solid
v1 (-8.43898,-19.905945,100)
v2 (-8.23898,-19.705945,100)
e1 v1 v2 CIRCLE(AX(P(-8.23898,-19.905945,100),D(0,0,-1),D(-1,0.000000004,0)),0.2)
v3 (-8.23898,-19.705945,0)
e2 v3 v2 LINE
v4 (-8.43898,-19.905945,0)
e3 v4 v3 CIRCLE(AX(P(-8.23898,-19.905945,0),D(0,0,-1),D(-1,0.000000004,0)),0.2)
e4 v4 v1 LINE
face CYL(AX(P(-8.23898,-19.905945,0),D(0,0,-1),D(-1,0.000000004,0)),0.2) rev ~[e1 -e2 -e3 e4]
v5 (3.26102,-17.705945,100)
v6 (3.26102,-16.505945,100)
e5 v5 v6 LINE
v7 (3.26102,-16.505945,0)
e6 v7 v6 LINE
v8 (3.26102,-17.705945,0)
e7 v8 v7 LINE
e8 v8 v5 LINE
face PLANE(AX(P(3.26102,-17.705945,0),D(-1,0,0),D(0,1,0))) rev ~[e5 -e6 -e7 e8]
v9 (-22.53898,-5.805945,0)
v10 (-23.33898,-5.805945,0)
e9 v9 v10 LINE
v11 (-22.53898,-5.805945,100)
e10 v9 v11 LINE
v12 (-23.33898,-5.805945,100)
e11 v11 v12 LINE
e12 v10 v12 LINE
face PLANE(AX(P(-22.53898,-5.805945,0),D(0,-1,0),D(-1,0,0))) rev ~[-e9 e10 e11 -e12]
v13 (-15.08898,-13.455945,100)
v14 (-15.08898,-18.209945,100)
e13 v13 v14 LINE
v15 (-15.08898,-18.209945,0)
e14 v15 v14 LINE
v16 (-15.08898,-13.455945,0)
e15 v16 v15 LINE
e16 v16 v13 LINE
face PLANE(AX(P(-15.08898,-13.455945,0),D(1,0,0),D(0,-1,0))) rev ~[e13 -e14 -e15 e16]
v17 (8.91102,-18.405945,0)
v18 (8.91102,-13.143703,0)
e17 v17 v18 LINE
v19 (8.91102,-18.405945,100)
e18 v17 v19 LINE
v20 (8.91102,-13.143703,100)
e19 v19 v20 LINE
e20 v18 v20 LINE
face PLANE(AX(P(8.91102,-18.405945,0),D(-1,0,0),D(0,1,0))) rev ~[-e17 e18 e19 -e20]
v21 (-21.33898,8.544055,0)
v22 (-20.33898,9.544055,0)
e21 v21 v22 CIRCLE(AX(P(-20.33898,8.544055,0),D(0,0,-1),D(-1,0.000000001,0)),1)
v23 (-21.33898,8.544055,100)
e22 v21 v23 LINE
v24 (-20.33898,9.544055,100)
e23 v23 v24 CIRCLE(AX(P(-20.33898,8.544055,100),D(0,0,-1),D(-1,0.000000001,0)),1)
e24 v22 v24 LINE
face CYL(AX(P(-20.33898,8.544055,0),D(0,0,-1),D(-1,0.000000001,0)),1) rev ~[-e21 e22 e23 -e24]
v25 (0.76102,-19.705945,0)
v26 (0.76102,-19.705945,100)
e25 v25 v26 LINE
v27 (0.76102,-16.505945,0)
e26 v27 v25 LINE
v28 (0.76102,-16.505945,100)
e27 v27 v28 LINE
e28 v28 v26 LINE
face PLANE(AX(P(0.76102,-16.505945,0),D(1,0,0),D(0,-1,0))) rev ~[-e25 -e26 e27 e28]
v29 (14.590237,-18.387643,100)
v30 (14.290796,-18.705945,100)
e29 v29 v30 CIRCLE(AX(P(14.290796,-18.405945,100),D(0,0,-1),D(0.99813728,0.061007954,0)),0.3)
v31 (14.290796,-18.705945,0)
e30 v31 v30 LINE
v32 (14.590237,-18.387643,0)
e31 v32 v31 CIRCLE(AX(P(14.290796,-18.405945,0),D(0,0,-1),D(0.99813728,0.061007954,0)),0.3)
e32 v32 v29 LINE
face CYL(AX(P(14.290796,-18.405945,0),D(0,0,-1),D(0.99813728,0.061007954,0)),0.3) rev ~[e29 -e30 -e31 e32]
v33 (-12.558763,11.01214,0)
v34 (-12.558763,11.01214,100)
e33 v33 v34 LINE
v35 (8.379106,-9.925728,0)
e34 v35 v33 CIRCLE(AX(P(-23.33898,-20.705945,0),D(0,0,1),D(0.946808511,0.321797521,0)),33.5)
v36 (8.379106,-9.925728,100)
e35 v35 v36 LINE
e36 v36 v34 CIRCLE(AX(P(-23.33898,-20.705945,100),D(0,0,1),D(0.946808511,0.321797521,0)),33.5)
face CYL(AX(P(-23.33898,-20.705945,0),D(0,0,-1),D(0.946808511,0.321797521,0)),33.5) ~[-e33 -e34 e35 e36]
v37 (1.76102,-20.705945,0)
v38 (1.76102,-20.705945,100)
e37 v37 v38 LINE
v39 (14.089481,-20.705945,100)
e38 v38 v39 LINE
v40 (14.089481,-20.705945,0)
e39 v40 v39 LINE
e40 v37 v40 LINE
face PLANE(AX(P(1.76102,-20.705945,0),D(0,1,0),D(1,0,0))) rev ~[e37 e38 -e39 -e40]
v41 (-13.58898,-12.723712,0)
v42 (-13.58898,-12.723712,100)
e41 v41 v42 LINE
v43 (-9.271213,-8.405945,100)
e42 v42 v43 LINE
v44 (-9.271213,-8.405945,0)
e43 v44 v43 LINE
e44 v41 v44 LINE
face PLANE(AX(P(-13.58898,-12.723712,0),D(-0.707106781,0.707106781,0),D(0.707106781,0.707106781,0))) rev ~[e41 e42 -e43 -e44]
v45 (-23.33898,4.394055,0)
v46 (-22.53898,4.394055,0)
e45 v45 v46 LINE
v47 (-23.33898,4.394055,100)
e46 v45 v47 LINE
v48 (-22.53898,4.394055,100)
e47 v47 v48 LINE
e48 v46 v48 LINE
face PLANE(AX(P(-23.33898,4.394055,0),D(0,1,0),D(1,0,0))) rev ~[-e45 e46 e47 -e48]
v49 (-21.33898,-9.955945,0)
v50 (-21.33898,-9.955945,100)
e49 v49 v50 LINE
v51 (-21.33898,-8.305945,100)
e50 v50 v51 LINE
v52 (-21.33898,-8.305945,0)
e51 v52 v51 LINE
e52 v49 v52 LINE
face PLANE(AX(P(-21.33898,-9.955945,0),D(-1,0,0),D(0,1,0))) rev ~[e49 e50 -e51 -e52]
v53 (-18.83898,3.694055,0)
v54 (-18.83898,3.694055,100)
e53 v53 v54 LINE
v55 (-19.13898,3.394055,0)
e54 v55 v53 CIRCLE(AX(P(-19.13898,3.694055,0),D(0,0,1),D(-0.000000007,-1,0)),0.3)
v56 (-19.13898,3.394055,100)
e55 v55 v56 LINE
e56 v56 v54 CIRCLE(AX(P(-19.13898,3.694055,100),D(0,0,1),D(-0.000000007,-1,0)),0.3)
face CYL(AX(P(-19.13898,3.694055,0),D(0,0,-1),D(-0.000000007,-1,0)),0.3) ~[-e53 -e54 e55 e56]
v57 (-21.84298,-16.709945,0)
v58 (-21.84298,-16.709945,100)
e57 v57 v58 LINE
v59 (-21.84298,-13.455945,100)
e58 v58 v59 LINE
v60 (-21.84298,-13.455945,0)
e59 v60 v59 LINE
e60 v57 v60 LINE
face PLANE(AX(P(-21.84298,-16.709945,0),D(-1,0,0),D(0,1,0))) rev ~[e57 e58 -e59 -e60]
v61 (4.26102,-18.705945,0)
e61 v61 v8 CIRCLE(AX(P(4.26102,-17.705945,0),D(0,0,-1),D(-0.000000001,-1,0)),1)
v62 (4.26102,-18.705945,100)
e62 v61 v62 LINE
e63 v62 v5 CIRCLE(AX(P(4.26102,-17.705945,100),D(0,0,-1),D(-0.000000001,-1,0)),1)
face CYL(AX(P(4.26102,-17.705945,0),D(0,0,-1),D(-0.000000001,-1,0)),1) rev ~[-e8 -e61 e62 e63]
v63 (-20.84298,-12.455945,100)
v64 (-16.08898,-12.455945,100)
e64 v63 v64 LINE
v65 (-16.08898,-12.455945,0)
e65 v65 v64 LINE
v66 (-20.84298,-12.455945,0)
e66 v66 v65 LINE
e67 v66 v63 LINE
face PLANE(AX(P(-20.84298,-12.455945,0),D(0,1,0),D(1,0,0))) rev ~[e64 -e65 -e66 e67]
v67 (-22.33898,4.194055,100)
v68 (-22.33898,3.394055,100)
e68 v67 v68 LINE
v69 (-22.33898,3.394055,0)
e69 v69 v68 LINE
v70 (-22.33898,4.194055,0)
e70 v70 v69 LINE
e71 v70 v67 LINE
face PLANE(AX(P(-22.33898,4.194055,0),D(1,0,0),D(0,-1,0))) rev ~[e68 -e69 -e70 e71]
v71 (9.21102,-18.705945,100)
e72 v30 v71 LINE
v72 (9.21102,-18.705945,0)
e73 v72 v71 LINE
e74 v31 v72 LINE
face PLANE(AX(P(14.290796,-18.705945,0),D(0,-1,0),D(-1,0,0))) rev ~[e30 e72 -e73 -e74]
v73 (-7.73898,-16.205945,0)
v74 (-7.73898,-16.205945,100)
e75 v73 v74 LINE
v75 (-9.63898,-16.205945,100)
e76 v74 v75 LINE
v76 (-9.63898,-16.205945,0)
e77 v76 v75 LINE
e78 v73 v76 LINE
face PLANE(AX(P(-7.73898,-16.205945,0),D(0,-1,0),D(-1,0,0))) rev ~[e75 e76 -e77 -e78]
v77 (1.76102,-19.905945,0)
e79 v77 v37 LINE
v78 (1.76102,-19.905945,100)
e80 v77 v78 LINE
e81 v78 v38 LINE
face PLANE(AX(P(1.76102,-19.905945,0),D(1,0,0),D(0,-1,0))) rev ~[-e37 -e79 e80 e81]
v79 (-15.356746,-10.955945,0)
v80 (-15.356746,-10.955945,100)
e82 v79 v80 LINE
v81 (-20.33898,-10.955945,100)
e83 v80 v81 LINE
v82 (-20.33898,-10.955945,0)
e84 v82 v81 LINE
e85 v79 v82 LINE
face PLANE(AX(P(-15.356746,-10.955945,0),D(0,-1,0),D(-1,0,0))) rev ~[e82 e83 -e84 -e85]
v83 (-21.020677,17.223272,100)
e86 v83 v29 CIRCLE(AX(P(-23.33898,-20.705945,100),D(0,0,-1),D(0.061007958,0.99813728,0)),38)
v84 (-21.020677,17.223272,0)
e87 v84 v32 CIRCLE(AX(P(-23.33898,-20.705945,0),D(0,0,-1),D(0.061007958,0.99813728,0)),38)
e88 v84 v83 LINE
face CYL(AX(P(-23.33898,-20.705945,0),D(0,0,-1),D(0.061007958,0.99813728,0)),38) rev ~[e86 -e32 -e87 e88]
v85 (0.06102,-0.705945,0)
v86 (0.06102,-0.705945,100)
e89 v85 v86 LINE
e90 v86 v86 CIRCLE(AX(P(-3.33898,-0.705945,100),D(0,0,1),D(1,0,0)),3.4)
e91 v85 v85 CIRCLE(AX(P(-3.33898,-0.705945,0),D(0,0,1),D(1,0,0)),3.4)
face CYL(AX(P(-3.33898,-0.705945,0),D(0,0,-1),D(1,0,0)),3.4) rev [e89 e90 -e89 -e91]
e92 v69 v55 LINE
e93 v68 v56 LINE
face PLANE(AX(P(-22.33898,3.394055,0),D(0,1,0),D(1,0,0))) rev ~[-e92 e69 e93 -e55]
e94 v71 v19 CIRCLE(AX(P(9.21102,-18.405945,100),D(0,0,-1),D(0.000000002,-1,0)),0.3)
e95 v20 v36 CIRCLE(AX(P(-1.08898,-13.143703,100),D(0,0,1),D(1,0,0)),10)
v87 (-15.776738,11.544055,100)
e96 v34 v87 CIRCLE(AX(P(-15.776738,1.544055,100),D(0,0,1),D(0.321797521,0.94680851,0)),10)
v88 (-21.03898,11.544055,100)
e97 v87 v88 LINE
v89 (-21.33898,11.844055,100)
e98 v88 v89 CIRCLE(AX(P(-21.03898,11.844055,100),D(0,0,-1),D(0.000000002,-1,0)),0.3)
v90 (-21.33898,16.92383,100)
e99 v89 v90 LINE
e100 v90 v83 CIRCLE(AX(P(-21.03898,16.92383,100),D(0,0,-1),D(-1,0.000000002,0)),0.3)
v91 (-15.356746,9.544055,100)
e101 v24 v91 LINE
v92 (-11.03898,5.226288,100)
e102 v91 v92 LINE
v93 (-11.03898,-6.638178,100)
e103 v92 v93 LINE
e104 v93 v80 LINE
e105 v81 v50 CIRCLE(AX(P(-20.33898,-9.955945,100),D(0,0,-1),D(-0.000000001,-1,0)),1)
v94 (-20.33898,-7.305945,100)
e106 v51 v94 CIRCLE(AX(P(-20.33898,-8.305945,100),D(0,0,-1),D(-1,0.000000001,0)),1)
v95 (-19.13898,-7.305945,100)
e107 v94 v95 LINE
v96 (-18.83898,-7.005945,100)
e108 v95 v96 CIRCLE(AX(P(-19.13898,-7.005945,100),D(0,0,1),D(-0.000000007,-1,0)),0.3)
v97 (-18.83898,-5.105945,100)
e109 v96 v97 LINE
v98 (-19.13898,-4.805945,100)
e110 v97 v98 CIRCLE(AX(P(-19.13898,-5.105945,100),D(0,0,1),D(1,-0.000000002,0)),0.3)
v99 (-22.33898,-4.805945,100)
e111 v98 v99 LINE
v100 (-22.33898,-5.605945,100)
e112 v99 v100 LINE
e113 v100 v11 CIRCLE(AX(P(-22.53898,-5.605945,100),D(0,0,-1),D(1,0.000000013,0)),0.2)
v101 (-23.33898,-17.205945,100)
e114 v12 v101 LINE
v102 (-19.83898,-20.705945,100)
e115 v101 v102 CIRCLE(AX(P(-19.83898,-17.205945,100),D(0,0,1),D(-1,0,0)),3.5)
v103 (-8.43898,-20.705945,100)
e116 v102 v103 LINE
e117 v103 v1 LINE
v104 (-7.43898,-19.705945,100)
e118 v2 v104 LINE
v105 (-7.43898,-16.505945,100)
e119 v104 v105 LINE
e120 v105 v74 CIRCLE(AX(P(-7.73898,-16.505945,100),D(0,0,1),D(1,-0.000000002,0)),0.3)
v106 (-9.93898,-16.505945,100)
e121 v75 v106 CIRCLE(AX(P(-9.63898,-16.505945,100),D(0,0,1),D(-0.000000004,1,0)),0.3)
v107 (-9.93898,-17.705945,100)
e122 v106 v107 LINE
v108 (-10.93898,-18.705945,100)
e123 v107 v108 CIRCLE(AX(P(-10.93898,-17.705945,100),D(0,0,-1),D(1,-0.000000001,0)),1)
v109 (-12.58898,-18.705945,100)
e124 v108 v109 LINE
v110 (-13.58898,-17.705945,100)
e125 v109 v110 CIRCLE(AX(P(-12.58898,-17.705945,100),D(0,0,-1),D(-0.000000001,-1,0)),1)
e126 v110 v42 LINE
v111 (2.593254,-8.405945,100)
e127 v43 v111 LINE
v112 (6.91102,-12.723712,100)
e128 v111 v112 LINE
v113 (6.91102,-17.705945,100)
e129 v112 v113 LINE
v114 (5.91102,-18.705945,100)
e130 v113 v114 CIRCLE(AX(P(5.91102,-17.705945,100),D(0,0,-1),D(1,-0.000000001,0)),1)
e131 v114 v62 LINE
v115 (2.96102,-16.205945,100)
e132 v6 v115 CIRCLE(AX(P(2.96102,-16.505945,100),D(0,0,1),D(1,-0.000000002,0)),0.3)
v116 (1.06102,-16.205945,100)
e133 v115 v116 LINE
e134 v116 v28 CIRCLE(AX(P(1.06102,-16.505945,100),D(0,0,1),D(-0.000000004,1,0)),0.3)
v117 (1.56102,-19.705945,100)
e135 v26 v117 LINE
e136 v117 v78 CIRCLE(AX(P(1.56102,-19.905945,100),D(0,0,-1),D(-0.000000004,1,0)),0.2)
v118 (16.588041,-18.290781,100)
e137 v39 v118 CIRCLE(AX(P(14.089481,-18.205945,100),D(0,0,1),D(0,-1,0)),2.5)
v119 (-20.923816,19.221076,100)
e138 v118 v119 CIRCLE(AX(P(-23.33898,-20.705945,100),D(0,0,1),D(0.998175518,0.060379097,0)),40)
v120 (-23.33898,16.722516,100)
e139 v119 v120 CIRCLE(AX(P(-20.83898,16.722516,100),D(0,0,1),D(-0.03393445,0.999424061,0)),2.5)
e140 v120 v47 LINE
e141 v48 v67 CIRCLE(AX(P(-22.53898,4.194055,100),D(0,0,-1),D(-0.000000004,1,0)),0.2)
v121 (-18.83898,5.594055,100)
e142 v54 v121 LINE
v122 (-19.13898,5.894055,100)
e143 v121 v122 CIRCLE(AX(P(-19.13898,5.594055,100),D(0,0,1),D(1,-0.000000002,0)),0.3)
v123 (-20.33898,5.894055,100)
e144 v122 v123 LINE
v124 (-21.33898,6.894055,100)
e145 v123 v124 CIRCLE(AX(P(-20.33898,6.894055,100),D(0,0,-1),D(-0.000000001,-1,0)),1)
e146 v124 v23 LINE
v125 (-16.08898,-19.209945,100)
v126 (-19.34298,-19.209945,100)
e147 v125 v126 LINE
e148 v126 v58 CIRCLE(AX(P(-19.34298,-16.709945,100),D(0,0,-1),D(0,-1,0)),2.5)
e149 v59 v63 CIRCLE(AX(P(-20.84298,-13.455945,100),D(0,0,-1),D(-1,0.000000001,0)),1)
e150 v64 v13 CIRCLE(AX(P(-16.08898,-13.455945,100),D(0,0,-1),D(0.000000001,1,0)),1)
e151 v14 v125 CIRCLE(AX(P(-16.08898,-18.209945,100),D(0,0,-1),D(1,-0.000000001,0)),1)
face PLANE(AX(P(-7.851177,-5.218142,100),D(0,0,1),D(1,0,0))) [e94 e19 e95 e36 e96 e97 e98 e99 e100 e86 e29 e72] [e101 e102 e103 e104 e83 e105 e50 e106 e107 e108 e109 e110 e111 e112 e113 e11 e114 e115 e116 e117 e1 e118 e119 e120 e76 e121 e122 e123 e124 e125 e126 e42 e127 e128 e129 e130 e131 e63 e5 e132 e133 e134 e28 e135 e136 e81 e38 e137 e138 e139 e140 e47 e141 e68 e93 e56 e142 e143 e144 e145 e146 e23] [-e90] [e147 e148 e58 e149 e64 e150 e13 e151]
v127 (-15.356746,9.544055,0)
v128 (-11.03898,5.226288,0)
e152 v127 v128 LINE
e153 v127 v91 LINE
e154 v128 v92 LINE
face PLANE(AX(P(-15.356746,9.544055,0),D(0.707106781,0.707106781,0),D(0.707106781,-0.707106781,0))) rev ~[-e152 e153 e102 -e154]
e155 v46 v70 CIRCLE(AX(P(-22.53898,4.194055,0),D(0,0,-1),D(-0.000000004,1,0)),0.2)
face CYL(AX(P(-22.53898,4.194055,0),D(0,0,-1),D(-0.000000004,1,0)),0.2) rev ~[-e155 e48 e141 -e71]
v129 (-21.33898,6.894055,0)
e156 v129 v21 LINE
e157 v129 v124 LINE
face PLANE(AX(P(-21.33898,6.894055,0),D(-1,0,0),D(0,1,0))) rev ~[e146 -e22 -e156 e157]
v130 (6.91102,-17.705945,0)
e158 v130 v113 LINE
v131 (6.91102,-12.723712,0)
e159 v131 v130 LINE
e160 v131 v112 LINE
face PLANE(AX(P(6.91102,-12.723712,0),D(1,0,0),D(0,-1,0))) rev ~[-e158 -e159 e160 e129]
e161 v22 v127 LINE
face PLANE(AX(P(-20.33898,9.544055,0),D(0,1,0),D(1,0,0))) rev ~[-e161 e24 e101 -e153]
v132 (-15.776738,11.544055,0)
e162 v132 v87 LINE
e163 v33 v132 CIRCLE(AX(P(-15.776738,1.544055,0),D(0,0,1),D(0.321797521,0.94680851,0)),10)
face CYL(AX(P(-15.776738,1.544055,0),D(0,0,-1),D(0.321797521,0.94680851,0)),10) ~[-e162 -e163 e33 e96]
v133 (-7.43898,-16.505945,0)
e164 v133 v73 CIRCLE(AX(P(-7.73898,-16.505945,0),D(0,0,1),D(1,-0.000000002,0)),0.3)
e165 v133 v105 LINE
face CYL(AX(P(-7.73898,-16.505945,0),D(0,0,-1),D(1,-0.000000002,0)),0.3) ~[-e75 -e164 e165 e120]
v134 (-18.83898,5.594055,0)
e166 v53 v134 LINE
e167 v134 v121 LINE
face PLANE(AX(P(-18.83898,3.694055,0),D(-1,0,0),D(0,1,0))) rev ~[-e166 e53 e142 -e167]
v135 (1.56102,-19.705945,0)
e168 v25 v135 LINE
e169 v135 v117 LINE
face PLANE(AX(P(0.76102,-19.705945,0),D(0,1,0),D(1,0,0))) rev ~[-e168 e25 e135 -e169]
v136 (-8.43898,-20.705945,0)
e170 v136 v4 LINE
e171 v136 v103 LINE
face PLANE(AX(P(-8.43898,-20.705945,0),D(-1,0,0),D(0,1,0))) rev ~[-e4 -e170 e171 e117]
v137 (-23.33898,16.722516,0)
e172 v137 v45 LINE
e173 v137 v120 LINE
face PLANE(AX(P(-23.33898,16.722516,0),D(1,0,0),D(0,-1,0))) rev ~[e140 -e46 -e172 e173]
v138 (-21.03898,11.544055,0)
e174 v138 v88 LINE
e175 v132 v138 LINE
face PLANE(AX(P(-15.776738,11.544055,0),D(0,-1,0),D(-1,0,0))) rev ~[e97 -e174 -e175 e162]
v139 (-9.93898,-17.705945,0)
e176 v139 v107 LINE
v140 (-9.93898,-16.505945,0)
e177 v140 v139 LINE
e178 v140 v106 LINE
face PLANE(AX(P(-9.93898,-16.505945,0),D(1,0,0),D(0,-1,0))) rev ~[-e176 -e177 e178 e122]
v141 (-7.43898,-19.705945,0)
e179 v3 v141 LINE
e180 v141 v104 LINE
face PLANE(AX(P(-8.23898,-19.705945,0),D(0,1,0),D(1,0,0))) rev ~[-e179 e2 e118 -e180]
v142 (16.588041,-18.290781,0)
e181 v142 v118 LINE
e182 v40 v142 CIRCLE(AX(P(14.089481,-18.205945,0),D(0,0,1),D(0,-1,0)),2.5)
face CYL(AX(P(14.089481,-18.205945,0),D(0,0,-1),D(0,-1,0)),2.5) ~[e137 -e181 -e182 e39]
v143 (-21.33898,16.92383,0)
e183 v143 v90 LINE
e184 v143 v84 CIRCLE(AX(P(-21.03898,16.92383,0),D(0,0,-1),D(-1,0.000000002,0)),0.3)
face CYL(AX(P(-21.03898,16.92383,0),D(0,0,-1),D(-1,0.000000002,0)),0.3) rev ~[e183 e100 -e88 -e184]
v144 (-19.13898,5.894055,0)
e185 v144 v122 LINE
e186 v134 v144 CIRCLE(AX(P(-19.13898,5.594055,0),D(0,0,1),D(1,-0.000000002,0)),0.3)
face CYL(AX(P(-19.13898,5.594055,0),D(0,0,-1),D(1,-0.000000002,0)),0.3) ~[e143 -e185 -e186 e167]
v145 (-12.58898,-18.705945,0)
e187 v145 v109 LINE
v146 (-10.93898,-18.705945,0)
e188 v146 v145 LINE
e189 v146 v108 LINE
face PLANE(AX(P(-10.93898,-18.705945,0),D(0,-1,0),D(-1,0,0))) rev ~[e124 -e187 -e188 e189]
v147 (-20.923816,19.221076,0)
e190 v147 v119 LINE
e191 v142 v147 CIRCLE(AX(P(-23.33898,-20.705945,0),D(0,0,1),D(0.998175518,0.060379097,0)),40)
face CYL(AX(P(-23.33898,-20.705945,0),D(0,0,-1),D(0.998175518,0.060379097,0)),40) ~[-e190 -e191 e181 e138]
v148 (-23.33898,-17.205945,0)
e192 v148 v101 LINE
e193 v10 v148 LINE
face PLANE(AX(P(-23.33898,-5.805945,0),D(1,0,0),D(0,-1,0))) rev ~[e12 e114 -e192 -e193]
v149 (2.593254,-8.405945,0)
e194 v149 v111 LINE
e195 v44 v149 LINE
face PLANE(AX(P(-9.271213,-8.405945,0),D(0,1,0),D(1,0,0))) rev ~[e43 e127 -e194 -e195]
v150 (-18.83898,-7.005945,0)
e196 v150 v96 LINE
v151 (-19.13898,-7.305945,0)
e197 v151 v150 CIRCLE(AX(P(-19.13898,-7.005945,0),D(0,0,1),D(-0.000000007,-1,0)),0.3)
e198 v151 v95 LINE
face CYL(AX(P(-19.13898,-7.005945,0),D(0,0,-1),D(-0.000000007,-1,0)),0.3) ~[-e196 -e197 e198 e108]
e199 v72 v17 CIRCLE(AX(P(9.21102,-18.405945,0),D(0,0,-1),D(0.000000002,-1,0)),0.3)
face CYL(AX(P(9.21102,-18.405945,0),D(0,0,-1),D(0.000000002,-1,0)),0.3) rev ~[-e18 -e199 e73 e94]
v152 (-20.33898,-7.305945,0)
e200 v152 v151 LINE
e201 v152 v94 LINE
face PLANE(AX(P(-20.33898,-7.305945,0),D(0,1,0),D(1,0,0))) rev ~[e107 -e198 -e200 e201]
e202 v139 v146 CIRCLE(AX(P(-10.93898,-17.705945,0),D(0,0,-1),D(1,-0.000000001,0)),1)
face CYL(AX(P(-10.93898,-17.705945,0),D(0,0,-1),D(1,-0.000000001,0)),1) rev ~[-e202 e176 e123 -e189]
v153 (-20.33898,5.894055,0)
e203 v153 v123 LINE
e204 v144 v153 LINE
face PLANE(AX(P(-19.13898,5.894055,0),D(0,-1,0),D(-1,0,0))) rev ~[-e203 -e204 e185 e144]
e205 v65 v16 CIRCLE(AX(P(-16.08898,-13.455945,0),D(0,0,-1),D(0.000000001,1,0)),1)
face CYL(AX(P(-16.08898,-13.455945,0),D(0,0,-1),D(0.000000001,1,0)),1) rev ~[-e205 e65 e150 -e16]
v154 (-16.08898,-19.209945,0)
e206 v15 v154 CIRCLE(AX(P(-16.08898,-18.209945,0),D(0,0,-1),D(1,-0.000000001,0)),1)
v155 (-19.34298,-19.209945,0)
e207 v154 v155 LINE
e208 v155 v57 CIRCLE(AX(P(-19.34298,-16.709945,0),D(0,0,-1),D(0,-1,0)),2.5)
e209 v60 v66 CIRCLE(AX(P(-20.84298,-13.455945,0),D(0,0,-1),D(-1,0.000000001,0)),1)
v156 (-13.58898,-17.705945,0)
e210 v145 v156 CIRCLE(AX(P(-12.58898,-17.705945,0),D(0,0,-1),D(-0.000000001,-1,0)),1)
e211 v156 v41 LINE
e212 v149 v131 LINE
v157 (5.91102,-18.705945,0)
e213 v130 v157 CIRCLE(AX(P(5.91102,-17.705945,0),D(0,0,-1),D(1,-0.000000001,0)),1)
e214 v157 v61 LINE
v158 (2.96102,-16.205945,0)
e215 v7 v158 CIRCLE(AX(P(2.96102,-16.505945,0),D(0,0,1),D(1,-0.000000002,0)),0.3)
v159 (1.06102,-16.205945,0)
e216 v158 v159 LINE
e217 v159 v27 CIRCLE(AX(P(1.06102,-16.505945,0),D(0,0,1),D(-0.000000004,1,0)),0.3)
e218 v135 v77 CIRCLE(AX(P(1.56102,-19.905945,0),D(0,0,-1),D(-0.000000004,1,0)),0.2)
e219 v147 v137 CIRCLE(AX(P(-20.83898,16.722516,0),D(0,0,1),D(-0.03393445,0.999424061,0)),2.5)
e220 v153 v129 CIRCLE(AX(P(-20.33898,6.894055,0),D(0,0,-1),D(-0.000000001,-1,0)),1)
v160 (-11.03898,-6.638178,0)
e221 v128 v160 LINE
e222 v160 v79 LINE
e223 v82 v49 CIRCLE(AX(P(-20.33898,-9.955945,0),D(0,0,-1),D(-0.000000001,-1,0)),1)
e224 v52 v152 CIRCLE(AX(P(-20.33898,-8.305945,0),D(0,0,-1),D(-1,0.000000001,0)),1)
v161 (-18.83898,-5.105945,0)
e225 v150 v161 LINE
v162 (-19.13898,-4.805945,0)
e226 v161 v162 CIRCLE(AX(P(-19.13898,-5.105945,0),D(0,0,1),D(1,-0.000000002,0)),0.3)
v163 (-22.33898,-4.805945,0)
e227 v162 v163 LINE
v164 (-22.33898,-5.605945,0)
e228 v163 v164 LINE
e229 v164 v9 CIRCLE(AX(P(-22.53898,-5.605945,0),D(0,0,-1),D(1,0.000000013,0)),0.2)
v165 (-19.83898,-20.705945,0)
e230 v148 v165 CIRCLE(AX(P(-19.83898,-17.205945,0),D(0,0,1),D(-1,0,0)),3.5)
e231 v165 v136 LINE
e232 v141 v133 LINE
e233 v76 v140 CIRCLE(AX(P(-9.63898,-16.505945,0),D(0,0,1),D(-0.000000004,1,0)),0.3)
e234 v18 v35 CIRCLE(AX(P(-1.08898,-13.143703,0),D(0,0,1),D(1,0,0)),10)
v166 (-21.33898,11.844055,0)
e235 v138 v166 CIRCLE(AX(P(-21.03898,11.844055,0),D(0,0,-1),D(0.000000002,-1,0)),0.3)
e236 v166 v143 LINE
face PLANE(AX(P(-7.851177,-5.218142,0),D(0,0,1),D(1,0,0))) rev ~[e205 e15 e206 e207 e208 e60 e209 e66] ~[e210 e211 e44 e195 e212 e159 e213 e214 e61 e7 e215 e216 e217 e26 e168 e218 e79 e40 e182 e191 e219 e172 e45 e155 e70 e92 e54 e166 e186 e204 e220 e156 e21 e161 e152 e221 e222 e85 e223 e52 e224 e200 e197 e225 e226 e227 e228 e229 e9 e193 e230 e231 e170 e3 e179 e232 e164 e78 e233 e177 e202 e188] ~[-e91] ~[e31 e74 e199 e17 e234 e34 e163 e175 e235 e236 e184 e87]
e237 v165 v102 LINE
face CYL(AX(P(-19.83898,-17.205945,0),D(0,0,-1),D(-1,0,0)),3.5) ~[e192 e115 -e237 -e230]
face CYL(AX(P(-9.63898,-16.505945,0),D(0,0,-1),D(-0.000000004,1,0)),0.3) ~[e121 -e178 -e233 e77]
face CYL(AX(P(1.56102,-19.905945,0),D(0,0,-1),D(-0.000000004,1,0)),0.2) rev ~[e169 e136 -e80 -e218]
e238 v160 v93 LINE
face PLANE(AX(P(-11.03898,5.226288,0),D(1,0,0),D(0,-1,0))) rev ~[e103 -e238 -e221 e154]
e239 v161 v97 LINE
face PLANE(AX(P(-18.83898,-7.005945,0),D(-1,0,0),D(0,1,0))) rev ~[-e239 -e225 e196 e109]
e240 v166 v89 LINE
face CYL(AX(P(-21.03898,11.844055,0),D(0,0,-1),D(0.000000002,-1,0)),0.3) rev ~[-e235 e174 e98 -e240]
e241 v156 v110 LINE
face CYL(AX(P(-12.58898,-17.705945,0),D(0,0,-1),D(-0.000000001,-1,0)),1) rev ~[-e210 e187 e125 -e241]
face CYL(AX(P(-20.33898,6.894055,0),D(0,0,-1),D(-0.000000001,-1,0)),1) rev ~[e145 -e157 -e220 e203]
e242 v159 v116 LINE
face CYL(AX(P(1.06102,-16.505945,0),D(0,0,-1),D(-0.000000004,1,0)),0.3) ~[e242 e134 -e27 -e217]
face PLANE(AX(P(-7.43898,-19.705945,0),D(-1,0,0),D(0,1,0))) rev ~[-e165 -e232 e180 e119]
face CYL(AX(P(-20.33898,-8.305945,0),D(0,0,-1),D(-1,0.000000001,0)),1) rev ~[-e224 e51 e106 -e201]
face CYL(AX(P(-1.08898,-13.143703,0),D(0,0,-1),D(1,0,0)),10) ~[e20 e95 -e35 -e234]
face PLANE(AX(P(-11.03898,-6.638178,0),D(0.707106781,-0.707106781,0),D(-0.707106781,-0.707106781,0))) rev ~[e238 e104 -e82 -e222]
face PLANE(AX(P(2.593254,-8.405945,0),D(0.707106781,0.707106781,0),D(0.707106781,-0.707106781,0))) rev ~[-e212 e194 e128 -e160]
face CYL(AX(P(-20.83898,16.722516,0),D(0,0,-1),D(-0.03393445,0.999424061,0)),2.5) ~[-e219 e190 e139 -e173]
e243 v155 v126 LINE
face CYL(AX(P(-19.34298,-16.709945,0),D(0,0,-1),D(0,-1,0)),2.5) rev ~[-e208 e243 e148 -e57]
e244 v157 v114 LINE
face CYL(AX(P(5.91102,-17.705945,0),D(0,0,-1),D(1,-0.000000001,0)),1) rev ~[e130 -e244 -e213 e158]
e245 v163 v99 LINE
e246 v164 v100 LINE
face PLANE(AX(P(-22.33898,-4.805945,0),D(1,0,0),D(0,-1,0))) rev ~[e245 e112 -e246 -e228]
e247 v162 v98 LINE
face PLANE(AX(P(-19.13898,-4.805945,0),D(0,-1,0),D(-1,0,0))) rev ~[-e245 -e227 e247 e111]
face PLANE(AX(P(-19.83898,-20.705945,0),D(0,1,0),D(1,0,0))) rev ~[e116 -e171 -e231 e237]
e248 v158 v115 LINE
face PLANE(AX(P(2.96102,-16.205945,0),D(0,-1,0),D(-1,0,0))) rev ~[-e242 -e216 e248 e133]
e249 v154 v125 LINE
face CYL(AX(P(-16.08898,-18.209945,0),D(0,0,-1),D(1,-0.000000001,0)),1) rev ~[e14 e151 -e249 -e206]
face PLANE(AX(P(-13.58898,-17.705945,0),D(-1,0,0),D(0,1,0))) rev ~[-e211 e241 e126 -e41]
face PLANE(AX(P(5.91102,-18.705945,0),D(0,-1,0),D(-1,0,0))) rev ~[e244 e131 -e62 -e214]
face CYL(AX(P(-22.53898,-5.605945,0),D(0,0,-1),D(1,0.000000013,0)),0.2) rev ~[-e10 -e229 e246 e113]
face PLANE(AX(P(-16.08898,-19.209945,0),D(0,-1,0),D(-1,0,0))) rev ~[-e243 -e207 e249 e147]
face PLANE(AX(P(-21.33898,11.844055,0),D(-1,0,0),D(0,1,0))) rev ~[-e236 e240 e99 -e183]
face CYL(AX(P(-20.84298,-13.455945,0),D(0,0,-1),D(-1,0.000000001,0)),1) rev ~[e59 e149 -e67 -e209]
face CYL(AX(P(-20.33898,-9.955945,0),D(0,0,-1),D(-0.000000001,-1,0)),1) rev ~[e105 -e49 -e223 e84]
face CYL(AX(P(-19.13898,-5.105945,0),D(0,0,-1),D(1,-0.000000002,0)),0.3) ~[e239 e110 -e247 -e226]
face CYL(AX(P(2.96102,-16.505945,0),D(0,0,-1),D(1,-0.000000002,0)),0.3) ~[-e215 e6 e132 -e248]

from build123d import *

# Parameters (mm, degrees)
SKETCH_1_R      = 3.4
EXTRUDE_1_DEPTH = 100


with BuildPart() as part:
    # 草图1 → 凸台-拉伸1 (new body)
    with BuildSketch(Plane.XY):
        with BuildLine():
            Line((-23.338979522, 16.722515545), (-23.338979522, 4.394054978))
            Line((-23.338979522, 4.394054978), (-22.538979522, 4.394054978))
            ThreePointArc((-22.538979522, 4.394054978), (-22.397558165, 4.335476334), (-22.338979522, 4.194054978))
            Line((-22.338979522, 4.194054978), (-22.338979522, 3.394054978))
            Line((-22.338979522, 3.394054978), (-19.138979522, 3.394054978))
            ThreePointArc((-19.138979522, 3.394054978), (-18.926847487, 3.481922943), (-18.838979522, 3.694054978))
            Line((-18.838979522, 3.694054978), (-18.838979522, 5.594054978))
            ThreePointArc((-18.838979522, 5.594054978), (-18.926847487, 5.806187012), (-19.138979522, 5.894054978))
            Line((-19.138979522, 5.894054978), (-20.338979522, 5.894054978))
            ThreePointArc((-20.338979522, 5.894054978), (-21.046086303, 6.186948197), (-21.338979522, 6.894054978))
            Line((-21.338979522, 6.894054978), (-21.338979522, 8.544054978))
            ThreePointArc((-21.338979522, 8.544054978), (-21.046086303, 9.251161759), (-20.338979522, 9.544054978))
            Line((-20.338979522, 9.544054978), (-15.356746475, 9.544054978))
            Line((-15.356746475, 9.544054978), (-11.038979522, 5.226288025))
            Line((-11.038979522, 5.226288025), (-11.038979522, -6.638178069))
            Line((-11.038979522, -6.638178069), (-15.356746475, -10.955945022))
            Line((-15.356746475, -10.955945022), (-20.338979522, -10.955945022))
            ThreePointArc((-20.338979522, -10.955945022), (-21.046086303, -10.663051803), (-21.338979522, -9.955945022))
            Line((-21.338979522, -9.955945022), (-21.338979522, -8.305945022))
            ThreePointArc((-21.338979522, -8.305945022), (-21.046086303, -7.598838241), (-20.338979522, -7.305945022))
            Line((-20.338979522, -7.305945022), (-19.138979522, -7.305945022))
            ThreePointArc((-19.138979522, -7.305945022), (-18.926847487, -7.218077057), (-18.838979522, -7.005945022))
            Line((-18.838979522, -7.005945022), (-18.838979522, -5.105945022))
            ThreePointArc((-18.838979522, -5.105945022), (-18.926847487, -4.893812988), (-19.138979522, -4.805945022))
            Line((-19.138979522, -4.805945022), (-22.338979522, -4.805945022))
            Line((-22.338979522, -4.805945022), (-22.338979522, -5.605945022))
            ThreePointArc((-22.338979522, -5.605945022), (-22.397558165, -5.747366379), (-22.538979522, -5.805945022))
            Line((-22.538979522, -5.805945022), (-23.338979522, -5.805945022))
            Line((-23.338979522, -5.805945022), (-23.338979522, -17.205945022))
            ThreePointArc((-23.338979522, -17.205945022), (-22.313853256, -19.680818756), (-19.838979522, -20.705945022))
            Line((-19.838979522, -20.705945022), (-8.438979522, -20.705945022))
            Line((-8.438979522, -20.705945022), (-8.438979522, -19.905945022))
            ThreePointArc((-8.438979522, -19.905945022), (-8.380400878, -19.764523666), (-8.238979522, -19.705945022))
            Line((-8.238979522, -19.705945022), (-7.438979522, -19.705945022))
            Line((-7.438979522, -19.705945022), (-7.438979522, -16.505945022))
            ThreePointArc((-7.438979522, -16.505945022), (-7.526847487, -16.293812988), (-7.738979522, -16.205945022))
            Line((-7.738979522, -16.205945022), (-9.638979522, -16.205945022))
            ThreePointArc((-9.638979522, -16.205945022), (-9.851111556, -16.293812988), (-9.938979522, -16.505945022))
            Line((-9.938979522, -16.505945022), (-9.938979522, -17.705945022))
            ThreePointArc((-9.938979522, -17.705945022), (-10.231872741, -18.413051803), (-10.938979522, -18.705945022))
            Line((-10.938979522, -18.705945022), (-12.588979522, -18.705945022))
            ThreePointArc((-12.588979522, -18.705945022), (-13.296086303, -18.413051803), (-13.588979522, -17.705945022))
            Line((-13.588979522, -17.705945022), (-13.588979522, -12.723711975))
            Line((-13.588979522, -12.723711975), (-9.271212569, -8.405945022))
            Line((-9.271212569, -8.405945022), (2.593253525, -8.405945022))
            Line((2.593253525, -8.405945022), (6.911020478, -12.723711975))
            Line((6.911020478, -12.723711975), (6.911020478, -17.705945022))
            ThreePointArc((6.911020478, -17.705945022), (6.618127259, -18.413051803), (5.911020478, -18.705945022))
            Line((5.911020478, -18.705945022), (4.261020478, -18.705945022))
            ThreePointArc((4.261020478, -18.705945022), (3.553913697, -18.413051803), (3.261020478, -17.705945022))
            Line((3.261020478, -17.705945022), (3.261020478, -16.505945022))
            ThreePointArc((3.261020478, -16.505945022), (3.173152513, -16.293812988), (2.961020478, -16.205945022))
            Line((2.961020478, -16.205945022), (1.061020478, -16.205945022))
            ThreePointArc((1.061020478, -16.205945022), (0.848888444, -16.293812988), (0.761020478, -16.505945022))
            Line((0.761020478, -16.505945022), (0.761020478, -19.705945022))
            Line((0.761020478, -19.705945022), (1.561020478, -19.705945022))
            ThreePointArc((1.561020478, -19.705945022), (1.702441835, -19.764523666), (1.761020478, -19.905945022))
            Line((1.761020478, -19.905945022), (1.761020478, -20.705945022))
            Line((1.761020478, -20.705945022), (14.089481045, -20.705945022))
            ThreePointArc((14.089481045, -20.705945022), (15.826995028, -20.003455845), (16.588041197, -18.290781149))
            ThreePointArc((16.588041197, -18.290781149), (4.945291726, 7.578326225), (-20.923815648, 19.221075696))
            ThreePointArc((-20.923815648, 19.221075696), (-22.636490345, 18.460029528), (-23.338979522, 16.722515545))
        make_face()
        with Locations((-3.338979522, -0.705945022)):
            Circle(SKETCH_1_R, mode=Mode.SUBTRACT)
        with BuildLine():
            Line((-15.088979522, -13.455945022), (-15.088979522, -18.209945022))
            ThreePointArc((-15.088979522, -18.209945022), (-15.381872741, -18.917051803), (-16.088979522, -19.209945022))
            Line((-16.088979522, -19.209945022), (-19.342979522, -19.209945022))
            ThreePointArc((-19.342979522, -19.209945022), (-21.110746475, -18.477711975), (-21.842979522, -16.709945022))
            Line((-21.842979522, -16.709945022), (-21.842979522, -13.455945022))
            ThreePointArc((-21.842979522, -13.455945022), (-21.550086303, -12.748838241), (-20.842979522, -12.455945022))
            Line((-20.842979522, -12.455945022), (-16.088979522, -12.455945022))
            ThreePointArc((-16.088979522, -12.455945022), (-15.381872741, -12.748838241), (-15.088979522, -13.455945022))
        make_face(mode=Mode.SUBTRACT)
        with BuildLine():
            Line((-15.776737791, 11.544054978), (-21.038979522, 11.544054978))
            ThreePointArc((-21.038979522, 11.544054978), (-21.251111556, 11.631922943), (-21.338979522, 11.844054978))
            Line((-21.338979522, 11.844054978), (-21.338979522, 16.923830422))
            ThreePointArc((-21.338979522, 16.923830422), (-21.244538861, 17.142337534), (-21.020677134, 17.223271606))
            ThreePointArc((-21.020677134, 17.223271606), (3.531078163, 6.164112663), (14.590237107, -18.387642635))
            ThreePointArc((14.590237107, -18.387642635), (14.509303035, -18.611504361), (14.290795923, -18.705945022))
            Line((14.290795923, -18.705945022), (9.211020478, -18.705945022))
            ThreePointArc((9.211020478, -18.705945022), (8.998888444, -18.618077057), (8.911020478, -18.405945022))
            Line((8.911020478, -18.405945022), (8.911020478, -13.143703291))
            ThreePointArc((8.911020478, -13.143703291), (8.777145631, -11.512883109), (8.379105585, -9.925728086))
            ThreePointArc((8.379105585, -9.925728086), (0.349097648, 2.982132147), (-12.558762586, 11.012140084))
            ThreePointArc((-12.558762586, 11.012140084), (-14.145917608, 11.410180131), (-15.776737791, 11.544054978))
        make_face(mode=Mode.SUBTRACT)
    extrude(amount=EXTRUDE_1_DEPTH)


solid = part.part
